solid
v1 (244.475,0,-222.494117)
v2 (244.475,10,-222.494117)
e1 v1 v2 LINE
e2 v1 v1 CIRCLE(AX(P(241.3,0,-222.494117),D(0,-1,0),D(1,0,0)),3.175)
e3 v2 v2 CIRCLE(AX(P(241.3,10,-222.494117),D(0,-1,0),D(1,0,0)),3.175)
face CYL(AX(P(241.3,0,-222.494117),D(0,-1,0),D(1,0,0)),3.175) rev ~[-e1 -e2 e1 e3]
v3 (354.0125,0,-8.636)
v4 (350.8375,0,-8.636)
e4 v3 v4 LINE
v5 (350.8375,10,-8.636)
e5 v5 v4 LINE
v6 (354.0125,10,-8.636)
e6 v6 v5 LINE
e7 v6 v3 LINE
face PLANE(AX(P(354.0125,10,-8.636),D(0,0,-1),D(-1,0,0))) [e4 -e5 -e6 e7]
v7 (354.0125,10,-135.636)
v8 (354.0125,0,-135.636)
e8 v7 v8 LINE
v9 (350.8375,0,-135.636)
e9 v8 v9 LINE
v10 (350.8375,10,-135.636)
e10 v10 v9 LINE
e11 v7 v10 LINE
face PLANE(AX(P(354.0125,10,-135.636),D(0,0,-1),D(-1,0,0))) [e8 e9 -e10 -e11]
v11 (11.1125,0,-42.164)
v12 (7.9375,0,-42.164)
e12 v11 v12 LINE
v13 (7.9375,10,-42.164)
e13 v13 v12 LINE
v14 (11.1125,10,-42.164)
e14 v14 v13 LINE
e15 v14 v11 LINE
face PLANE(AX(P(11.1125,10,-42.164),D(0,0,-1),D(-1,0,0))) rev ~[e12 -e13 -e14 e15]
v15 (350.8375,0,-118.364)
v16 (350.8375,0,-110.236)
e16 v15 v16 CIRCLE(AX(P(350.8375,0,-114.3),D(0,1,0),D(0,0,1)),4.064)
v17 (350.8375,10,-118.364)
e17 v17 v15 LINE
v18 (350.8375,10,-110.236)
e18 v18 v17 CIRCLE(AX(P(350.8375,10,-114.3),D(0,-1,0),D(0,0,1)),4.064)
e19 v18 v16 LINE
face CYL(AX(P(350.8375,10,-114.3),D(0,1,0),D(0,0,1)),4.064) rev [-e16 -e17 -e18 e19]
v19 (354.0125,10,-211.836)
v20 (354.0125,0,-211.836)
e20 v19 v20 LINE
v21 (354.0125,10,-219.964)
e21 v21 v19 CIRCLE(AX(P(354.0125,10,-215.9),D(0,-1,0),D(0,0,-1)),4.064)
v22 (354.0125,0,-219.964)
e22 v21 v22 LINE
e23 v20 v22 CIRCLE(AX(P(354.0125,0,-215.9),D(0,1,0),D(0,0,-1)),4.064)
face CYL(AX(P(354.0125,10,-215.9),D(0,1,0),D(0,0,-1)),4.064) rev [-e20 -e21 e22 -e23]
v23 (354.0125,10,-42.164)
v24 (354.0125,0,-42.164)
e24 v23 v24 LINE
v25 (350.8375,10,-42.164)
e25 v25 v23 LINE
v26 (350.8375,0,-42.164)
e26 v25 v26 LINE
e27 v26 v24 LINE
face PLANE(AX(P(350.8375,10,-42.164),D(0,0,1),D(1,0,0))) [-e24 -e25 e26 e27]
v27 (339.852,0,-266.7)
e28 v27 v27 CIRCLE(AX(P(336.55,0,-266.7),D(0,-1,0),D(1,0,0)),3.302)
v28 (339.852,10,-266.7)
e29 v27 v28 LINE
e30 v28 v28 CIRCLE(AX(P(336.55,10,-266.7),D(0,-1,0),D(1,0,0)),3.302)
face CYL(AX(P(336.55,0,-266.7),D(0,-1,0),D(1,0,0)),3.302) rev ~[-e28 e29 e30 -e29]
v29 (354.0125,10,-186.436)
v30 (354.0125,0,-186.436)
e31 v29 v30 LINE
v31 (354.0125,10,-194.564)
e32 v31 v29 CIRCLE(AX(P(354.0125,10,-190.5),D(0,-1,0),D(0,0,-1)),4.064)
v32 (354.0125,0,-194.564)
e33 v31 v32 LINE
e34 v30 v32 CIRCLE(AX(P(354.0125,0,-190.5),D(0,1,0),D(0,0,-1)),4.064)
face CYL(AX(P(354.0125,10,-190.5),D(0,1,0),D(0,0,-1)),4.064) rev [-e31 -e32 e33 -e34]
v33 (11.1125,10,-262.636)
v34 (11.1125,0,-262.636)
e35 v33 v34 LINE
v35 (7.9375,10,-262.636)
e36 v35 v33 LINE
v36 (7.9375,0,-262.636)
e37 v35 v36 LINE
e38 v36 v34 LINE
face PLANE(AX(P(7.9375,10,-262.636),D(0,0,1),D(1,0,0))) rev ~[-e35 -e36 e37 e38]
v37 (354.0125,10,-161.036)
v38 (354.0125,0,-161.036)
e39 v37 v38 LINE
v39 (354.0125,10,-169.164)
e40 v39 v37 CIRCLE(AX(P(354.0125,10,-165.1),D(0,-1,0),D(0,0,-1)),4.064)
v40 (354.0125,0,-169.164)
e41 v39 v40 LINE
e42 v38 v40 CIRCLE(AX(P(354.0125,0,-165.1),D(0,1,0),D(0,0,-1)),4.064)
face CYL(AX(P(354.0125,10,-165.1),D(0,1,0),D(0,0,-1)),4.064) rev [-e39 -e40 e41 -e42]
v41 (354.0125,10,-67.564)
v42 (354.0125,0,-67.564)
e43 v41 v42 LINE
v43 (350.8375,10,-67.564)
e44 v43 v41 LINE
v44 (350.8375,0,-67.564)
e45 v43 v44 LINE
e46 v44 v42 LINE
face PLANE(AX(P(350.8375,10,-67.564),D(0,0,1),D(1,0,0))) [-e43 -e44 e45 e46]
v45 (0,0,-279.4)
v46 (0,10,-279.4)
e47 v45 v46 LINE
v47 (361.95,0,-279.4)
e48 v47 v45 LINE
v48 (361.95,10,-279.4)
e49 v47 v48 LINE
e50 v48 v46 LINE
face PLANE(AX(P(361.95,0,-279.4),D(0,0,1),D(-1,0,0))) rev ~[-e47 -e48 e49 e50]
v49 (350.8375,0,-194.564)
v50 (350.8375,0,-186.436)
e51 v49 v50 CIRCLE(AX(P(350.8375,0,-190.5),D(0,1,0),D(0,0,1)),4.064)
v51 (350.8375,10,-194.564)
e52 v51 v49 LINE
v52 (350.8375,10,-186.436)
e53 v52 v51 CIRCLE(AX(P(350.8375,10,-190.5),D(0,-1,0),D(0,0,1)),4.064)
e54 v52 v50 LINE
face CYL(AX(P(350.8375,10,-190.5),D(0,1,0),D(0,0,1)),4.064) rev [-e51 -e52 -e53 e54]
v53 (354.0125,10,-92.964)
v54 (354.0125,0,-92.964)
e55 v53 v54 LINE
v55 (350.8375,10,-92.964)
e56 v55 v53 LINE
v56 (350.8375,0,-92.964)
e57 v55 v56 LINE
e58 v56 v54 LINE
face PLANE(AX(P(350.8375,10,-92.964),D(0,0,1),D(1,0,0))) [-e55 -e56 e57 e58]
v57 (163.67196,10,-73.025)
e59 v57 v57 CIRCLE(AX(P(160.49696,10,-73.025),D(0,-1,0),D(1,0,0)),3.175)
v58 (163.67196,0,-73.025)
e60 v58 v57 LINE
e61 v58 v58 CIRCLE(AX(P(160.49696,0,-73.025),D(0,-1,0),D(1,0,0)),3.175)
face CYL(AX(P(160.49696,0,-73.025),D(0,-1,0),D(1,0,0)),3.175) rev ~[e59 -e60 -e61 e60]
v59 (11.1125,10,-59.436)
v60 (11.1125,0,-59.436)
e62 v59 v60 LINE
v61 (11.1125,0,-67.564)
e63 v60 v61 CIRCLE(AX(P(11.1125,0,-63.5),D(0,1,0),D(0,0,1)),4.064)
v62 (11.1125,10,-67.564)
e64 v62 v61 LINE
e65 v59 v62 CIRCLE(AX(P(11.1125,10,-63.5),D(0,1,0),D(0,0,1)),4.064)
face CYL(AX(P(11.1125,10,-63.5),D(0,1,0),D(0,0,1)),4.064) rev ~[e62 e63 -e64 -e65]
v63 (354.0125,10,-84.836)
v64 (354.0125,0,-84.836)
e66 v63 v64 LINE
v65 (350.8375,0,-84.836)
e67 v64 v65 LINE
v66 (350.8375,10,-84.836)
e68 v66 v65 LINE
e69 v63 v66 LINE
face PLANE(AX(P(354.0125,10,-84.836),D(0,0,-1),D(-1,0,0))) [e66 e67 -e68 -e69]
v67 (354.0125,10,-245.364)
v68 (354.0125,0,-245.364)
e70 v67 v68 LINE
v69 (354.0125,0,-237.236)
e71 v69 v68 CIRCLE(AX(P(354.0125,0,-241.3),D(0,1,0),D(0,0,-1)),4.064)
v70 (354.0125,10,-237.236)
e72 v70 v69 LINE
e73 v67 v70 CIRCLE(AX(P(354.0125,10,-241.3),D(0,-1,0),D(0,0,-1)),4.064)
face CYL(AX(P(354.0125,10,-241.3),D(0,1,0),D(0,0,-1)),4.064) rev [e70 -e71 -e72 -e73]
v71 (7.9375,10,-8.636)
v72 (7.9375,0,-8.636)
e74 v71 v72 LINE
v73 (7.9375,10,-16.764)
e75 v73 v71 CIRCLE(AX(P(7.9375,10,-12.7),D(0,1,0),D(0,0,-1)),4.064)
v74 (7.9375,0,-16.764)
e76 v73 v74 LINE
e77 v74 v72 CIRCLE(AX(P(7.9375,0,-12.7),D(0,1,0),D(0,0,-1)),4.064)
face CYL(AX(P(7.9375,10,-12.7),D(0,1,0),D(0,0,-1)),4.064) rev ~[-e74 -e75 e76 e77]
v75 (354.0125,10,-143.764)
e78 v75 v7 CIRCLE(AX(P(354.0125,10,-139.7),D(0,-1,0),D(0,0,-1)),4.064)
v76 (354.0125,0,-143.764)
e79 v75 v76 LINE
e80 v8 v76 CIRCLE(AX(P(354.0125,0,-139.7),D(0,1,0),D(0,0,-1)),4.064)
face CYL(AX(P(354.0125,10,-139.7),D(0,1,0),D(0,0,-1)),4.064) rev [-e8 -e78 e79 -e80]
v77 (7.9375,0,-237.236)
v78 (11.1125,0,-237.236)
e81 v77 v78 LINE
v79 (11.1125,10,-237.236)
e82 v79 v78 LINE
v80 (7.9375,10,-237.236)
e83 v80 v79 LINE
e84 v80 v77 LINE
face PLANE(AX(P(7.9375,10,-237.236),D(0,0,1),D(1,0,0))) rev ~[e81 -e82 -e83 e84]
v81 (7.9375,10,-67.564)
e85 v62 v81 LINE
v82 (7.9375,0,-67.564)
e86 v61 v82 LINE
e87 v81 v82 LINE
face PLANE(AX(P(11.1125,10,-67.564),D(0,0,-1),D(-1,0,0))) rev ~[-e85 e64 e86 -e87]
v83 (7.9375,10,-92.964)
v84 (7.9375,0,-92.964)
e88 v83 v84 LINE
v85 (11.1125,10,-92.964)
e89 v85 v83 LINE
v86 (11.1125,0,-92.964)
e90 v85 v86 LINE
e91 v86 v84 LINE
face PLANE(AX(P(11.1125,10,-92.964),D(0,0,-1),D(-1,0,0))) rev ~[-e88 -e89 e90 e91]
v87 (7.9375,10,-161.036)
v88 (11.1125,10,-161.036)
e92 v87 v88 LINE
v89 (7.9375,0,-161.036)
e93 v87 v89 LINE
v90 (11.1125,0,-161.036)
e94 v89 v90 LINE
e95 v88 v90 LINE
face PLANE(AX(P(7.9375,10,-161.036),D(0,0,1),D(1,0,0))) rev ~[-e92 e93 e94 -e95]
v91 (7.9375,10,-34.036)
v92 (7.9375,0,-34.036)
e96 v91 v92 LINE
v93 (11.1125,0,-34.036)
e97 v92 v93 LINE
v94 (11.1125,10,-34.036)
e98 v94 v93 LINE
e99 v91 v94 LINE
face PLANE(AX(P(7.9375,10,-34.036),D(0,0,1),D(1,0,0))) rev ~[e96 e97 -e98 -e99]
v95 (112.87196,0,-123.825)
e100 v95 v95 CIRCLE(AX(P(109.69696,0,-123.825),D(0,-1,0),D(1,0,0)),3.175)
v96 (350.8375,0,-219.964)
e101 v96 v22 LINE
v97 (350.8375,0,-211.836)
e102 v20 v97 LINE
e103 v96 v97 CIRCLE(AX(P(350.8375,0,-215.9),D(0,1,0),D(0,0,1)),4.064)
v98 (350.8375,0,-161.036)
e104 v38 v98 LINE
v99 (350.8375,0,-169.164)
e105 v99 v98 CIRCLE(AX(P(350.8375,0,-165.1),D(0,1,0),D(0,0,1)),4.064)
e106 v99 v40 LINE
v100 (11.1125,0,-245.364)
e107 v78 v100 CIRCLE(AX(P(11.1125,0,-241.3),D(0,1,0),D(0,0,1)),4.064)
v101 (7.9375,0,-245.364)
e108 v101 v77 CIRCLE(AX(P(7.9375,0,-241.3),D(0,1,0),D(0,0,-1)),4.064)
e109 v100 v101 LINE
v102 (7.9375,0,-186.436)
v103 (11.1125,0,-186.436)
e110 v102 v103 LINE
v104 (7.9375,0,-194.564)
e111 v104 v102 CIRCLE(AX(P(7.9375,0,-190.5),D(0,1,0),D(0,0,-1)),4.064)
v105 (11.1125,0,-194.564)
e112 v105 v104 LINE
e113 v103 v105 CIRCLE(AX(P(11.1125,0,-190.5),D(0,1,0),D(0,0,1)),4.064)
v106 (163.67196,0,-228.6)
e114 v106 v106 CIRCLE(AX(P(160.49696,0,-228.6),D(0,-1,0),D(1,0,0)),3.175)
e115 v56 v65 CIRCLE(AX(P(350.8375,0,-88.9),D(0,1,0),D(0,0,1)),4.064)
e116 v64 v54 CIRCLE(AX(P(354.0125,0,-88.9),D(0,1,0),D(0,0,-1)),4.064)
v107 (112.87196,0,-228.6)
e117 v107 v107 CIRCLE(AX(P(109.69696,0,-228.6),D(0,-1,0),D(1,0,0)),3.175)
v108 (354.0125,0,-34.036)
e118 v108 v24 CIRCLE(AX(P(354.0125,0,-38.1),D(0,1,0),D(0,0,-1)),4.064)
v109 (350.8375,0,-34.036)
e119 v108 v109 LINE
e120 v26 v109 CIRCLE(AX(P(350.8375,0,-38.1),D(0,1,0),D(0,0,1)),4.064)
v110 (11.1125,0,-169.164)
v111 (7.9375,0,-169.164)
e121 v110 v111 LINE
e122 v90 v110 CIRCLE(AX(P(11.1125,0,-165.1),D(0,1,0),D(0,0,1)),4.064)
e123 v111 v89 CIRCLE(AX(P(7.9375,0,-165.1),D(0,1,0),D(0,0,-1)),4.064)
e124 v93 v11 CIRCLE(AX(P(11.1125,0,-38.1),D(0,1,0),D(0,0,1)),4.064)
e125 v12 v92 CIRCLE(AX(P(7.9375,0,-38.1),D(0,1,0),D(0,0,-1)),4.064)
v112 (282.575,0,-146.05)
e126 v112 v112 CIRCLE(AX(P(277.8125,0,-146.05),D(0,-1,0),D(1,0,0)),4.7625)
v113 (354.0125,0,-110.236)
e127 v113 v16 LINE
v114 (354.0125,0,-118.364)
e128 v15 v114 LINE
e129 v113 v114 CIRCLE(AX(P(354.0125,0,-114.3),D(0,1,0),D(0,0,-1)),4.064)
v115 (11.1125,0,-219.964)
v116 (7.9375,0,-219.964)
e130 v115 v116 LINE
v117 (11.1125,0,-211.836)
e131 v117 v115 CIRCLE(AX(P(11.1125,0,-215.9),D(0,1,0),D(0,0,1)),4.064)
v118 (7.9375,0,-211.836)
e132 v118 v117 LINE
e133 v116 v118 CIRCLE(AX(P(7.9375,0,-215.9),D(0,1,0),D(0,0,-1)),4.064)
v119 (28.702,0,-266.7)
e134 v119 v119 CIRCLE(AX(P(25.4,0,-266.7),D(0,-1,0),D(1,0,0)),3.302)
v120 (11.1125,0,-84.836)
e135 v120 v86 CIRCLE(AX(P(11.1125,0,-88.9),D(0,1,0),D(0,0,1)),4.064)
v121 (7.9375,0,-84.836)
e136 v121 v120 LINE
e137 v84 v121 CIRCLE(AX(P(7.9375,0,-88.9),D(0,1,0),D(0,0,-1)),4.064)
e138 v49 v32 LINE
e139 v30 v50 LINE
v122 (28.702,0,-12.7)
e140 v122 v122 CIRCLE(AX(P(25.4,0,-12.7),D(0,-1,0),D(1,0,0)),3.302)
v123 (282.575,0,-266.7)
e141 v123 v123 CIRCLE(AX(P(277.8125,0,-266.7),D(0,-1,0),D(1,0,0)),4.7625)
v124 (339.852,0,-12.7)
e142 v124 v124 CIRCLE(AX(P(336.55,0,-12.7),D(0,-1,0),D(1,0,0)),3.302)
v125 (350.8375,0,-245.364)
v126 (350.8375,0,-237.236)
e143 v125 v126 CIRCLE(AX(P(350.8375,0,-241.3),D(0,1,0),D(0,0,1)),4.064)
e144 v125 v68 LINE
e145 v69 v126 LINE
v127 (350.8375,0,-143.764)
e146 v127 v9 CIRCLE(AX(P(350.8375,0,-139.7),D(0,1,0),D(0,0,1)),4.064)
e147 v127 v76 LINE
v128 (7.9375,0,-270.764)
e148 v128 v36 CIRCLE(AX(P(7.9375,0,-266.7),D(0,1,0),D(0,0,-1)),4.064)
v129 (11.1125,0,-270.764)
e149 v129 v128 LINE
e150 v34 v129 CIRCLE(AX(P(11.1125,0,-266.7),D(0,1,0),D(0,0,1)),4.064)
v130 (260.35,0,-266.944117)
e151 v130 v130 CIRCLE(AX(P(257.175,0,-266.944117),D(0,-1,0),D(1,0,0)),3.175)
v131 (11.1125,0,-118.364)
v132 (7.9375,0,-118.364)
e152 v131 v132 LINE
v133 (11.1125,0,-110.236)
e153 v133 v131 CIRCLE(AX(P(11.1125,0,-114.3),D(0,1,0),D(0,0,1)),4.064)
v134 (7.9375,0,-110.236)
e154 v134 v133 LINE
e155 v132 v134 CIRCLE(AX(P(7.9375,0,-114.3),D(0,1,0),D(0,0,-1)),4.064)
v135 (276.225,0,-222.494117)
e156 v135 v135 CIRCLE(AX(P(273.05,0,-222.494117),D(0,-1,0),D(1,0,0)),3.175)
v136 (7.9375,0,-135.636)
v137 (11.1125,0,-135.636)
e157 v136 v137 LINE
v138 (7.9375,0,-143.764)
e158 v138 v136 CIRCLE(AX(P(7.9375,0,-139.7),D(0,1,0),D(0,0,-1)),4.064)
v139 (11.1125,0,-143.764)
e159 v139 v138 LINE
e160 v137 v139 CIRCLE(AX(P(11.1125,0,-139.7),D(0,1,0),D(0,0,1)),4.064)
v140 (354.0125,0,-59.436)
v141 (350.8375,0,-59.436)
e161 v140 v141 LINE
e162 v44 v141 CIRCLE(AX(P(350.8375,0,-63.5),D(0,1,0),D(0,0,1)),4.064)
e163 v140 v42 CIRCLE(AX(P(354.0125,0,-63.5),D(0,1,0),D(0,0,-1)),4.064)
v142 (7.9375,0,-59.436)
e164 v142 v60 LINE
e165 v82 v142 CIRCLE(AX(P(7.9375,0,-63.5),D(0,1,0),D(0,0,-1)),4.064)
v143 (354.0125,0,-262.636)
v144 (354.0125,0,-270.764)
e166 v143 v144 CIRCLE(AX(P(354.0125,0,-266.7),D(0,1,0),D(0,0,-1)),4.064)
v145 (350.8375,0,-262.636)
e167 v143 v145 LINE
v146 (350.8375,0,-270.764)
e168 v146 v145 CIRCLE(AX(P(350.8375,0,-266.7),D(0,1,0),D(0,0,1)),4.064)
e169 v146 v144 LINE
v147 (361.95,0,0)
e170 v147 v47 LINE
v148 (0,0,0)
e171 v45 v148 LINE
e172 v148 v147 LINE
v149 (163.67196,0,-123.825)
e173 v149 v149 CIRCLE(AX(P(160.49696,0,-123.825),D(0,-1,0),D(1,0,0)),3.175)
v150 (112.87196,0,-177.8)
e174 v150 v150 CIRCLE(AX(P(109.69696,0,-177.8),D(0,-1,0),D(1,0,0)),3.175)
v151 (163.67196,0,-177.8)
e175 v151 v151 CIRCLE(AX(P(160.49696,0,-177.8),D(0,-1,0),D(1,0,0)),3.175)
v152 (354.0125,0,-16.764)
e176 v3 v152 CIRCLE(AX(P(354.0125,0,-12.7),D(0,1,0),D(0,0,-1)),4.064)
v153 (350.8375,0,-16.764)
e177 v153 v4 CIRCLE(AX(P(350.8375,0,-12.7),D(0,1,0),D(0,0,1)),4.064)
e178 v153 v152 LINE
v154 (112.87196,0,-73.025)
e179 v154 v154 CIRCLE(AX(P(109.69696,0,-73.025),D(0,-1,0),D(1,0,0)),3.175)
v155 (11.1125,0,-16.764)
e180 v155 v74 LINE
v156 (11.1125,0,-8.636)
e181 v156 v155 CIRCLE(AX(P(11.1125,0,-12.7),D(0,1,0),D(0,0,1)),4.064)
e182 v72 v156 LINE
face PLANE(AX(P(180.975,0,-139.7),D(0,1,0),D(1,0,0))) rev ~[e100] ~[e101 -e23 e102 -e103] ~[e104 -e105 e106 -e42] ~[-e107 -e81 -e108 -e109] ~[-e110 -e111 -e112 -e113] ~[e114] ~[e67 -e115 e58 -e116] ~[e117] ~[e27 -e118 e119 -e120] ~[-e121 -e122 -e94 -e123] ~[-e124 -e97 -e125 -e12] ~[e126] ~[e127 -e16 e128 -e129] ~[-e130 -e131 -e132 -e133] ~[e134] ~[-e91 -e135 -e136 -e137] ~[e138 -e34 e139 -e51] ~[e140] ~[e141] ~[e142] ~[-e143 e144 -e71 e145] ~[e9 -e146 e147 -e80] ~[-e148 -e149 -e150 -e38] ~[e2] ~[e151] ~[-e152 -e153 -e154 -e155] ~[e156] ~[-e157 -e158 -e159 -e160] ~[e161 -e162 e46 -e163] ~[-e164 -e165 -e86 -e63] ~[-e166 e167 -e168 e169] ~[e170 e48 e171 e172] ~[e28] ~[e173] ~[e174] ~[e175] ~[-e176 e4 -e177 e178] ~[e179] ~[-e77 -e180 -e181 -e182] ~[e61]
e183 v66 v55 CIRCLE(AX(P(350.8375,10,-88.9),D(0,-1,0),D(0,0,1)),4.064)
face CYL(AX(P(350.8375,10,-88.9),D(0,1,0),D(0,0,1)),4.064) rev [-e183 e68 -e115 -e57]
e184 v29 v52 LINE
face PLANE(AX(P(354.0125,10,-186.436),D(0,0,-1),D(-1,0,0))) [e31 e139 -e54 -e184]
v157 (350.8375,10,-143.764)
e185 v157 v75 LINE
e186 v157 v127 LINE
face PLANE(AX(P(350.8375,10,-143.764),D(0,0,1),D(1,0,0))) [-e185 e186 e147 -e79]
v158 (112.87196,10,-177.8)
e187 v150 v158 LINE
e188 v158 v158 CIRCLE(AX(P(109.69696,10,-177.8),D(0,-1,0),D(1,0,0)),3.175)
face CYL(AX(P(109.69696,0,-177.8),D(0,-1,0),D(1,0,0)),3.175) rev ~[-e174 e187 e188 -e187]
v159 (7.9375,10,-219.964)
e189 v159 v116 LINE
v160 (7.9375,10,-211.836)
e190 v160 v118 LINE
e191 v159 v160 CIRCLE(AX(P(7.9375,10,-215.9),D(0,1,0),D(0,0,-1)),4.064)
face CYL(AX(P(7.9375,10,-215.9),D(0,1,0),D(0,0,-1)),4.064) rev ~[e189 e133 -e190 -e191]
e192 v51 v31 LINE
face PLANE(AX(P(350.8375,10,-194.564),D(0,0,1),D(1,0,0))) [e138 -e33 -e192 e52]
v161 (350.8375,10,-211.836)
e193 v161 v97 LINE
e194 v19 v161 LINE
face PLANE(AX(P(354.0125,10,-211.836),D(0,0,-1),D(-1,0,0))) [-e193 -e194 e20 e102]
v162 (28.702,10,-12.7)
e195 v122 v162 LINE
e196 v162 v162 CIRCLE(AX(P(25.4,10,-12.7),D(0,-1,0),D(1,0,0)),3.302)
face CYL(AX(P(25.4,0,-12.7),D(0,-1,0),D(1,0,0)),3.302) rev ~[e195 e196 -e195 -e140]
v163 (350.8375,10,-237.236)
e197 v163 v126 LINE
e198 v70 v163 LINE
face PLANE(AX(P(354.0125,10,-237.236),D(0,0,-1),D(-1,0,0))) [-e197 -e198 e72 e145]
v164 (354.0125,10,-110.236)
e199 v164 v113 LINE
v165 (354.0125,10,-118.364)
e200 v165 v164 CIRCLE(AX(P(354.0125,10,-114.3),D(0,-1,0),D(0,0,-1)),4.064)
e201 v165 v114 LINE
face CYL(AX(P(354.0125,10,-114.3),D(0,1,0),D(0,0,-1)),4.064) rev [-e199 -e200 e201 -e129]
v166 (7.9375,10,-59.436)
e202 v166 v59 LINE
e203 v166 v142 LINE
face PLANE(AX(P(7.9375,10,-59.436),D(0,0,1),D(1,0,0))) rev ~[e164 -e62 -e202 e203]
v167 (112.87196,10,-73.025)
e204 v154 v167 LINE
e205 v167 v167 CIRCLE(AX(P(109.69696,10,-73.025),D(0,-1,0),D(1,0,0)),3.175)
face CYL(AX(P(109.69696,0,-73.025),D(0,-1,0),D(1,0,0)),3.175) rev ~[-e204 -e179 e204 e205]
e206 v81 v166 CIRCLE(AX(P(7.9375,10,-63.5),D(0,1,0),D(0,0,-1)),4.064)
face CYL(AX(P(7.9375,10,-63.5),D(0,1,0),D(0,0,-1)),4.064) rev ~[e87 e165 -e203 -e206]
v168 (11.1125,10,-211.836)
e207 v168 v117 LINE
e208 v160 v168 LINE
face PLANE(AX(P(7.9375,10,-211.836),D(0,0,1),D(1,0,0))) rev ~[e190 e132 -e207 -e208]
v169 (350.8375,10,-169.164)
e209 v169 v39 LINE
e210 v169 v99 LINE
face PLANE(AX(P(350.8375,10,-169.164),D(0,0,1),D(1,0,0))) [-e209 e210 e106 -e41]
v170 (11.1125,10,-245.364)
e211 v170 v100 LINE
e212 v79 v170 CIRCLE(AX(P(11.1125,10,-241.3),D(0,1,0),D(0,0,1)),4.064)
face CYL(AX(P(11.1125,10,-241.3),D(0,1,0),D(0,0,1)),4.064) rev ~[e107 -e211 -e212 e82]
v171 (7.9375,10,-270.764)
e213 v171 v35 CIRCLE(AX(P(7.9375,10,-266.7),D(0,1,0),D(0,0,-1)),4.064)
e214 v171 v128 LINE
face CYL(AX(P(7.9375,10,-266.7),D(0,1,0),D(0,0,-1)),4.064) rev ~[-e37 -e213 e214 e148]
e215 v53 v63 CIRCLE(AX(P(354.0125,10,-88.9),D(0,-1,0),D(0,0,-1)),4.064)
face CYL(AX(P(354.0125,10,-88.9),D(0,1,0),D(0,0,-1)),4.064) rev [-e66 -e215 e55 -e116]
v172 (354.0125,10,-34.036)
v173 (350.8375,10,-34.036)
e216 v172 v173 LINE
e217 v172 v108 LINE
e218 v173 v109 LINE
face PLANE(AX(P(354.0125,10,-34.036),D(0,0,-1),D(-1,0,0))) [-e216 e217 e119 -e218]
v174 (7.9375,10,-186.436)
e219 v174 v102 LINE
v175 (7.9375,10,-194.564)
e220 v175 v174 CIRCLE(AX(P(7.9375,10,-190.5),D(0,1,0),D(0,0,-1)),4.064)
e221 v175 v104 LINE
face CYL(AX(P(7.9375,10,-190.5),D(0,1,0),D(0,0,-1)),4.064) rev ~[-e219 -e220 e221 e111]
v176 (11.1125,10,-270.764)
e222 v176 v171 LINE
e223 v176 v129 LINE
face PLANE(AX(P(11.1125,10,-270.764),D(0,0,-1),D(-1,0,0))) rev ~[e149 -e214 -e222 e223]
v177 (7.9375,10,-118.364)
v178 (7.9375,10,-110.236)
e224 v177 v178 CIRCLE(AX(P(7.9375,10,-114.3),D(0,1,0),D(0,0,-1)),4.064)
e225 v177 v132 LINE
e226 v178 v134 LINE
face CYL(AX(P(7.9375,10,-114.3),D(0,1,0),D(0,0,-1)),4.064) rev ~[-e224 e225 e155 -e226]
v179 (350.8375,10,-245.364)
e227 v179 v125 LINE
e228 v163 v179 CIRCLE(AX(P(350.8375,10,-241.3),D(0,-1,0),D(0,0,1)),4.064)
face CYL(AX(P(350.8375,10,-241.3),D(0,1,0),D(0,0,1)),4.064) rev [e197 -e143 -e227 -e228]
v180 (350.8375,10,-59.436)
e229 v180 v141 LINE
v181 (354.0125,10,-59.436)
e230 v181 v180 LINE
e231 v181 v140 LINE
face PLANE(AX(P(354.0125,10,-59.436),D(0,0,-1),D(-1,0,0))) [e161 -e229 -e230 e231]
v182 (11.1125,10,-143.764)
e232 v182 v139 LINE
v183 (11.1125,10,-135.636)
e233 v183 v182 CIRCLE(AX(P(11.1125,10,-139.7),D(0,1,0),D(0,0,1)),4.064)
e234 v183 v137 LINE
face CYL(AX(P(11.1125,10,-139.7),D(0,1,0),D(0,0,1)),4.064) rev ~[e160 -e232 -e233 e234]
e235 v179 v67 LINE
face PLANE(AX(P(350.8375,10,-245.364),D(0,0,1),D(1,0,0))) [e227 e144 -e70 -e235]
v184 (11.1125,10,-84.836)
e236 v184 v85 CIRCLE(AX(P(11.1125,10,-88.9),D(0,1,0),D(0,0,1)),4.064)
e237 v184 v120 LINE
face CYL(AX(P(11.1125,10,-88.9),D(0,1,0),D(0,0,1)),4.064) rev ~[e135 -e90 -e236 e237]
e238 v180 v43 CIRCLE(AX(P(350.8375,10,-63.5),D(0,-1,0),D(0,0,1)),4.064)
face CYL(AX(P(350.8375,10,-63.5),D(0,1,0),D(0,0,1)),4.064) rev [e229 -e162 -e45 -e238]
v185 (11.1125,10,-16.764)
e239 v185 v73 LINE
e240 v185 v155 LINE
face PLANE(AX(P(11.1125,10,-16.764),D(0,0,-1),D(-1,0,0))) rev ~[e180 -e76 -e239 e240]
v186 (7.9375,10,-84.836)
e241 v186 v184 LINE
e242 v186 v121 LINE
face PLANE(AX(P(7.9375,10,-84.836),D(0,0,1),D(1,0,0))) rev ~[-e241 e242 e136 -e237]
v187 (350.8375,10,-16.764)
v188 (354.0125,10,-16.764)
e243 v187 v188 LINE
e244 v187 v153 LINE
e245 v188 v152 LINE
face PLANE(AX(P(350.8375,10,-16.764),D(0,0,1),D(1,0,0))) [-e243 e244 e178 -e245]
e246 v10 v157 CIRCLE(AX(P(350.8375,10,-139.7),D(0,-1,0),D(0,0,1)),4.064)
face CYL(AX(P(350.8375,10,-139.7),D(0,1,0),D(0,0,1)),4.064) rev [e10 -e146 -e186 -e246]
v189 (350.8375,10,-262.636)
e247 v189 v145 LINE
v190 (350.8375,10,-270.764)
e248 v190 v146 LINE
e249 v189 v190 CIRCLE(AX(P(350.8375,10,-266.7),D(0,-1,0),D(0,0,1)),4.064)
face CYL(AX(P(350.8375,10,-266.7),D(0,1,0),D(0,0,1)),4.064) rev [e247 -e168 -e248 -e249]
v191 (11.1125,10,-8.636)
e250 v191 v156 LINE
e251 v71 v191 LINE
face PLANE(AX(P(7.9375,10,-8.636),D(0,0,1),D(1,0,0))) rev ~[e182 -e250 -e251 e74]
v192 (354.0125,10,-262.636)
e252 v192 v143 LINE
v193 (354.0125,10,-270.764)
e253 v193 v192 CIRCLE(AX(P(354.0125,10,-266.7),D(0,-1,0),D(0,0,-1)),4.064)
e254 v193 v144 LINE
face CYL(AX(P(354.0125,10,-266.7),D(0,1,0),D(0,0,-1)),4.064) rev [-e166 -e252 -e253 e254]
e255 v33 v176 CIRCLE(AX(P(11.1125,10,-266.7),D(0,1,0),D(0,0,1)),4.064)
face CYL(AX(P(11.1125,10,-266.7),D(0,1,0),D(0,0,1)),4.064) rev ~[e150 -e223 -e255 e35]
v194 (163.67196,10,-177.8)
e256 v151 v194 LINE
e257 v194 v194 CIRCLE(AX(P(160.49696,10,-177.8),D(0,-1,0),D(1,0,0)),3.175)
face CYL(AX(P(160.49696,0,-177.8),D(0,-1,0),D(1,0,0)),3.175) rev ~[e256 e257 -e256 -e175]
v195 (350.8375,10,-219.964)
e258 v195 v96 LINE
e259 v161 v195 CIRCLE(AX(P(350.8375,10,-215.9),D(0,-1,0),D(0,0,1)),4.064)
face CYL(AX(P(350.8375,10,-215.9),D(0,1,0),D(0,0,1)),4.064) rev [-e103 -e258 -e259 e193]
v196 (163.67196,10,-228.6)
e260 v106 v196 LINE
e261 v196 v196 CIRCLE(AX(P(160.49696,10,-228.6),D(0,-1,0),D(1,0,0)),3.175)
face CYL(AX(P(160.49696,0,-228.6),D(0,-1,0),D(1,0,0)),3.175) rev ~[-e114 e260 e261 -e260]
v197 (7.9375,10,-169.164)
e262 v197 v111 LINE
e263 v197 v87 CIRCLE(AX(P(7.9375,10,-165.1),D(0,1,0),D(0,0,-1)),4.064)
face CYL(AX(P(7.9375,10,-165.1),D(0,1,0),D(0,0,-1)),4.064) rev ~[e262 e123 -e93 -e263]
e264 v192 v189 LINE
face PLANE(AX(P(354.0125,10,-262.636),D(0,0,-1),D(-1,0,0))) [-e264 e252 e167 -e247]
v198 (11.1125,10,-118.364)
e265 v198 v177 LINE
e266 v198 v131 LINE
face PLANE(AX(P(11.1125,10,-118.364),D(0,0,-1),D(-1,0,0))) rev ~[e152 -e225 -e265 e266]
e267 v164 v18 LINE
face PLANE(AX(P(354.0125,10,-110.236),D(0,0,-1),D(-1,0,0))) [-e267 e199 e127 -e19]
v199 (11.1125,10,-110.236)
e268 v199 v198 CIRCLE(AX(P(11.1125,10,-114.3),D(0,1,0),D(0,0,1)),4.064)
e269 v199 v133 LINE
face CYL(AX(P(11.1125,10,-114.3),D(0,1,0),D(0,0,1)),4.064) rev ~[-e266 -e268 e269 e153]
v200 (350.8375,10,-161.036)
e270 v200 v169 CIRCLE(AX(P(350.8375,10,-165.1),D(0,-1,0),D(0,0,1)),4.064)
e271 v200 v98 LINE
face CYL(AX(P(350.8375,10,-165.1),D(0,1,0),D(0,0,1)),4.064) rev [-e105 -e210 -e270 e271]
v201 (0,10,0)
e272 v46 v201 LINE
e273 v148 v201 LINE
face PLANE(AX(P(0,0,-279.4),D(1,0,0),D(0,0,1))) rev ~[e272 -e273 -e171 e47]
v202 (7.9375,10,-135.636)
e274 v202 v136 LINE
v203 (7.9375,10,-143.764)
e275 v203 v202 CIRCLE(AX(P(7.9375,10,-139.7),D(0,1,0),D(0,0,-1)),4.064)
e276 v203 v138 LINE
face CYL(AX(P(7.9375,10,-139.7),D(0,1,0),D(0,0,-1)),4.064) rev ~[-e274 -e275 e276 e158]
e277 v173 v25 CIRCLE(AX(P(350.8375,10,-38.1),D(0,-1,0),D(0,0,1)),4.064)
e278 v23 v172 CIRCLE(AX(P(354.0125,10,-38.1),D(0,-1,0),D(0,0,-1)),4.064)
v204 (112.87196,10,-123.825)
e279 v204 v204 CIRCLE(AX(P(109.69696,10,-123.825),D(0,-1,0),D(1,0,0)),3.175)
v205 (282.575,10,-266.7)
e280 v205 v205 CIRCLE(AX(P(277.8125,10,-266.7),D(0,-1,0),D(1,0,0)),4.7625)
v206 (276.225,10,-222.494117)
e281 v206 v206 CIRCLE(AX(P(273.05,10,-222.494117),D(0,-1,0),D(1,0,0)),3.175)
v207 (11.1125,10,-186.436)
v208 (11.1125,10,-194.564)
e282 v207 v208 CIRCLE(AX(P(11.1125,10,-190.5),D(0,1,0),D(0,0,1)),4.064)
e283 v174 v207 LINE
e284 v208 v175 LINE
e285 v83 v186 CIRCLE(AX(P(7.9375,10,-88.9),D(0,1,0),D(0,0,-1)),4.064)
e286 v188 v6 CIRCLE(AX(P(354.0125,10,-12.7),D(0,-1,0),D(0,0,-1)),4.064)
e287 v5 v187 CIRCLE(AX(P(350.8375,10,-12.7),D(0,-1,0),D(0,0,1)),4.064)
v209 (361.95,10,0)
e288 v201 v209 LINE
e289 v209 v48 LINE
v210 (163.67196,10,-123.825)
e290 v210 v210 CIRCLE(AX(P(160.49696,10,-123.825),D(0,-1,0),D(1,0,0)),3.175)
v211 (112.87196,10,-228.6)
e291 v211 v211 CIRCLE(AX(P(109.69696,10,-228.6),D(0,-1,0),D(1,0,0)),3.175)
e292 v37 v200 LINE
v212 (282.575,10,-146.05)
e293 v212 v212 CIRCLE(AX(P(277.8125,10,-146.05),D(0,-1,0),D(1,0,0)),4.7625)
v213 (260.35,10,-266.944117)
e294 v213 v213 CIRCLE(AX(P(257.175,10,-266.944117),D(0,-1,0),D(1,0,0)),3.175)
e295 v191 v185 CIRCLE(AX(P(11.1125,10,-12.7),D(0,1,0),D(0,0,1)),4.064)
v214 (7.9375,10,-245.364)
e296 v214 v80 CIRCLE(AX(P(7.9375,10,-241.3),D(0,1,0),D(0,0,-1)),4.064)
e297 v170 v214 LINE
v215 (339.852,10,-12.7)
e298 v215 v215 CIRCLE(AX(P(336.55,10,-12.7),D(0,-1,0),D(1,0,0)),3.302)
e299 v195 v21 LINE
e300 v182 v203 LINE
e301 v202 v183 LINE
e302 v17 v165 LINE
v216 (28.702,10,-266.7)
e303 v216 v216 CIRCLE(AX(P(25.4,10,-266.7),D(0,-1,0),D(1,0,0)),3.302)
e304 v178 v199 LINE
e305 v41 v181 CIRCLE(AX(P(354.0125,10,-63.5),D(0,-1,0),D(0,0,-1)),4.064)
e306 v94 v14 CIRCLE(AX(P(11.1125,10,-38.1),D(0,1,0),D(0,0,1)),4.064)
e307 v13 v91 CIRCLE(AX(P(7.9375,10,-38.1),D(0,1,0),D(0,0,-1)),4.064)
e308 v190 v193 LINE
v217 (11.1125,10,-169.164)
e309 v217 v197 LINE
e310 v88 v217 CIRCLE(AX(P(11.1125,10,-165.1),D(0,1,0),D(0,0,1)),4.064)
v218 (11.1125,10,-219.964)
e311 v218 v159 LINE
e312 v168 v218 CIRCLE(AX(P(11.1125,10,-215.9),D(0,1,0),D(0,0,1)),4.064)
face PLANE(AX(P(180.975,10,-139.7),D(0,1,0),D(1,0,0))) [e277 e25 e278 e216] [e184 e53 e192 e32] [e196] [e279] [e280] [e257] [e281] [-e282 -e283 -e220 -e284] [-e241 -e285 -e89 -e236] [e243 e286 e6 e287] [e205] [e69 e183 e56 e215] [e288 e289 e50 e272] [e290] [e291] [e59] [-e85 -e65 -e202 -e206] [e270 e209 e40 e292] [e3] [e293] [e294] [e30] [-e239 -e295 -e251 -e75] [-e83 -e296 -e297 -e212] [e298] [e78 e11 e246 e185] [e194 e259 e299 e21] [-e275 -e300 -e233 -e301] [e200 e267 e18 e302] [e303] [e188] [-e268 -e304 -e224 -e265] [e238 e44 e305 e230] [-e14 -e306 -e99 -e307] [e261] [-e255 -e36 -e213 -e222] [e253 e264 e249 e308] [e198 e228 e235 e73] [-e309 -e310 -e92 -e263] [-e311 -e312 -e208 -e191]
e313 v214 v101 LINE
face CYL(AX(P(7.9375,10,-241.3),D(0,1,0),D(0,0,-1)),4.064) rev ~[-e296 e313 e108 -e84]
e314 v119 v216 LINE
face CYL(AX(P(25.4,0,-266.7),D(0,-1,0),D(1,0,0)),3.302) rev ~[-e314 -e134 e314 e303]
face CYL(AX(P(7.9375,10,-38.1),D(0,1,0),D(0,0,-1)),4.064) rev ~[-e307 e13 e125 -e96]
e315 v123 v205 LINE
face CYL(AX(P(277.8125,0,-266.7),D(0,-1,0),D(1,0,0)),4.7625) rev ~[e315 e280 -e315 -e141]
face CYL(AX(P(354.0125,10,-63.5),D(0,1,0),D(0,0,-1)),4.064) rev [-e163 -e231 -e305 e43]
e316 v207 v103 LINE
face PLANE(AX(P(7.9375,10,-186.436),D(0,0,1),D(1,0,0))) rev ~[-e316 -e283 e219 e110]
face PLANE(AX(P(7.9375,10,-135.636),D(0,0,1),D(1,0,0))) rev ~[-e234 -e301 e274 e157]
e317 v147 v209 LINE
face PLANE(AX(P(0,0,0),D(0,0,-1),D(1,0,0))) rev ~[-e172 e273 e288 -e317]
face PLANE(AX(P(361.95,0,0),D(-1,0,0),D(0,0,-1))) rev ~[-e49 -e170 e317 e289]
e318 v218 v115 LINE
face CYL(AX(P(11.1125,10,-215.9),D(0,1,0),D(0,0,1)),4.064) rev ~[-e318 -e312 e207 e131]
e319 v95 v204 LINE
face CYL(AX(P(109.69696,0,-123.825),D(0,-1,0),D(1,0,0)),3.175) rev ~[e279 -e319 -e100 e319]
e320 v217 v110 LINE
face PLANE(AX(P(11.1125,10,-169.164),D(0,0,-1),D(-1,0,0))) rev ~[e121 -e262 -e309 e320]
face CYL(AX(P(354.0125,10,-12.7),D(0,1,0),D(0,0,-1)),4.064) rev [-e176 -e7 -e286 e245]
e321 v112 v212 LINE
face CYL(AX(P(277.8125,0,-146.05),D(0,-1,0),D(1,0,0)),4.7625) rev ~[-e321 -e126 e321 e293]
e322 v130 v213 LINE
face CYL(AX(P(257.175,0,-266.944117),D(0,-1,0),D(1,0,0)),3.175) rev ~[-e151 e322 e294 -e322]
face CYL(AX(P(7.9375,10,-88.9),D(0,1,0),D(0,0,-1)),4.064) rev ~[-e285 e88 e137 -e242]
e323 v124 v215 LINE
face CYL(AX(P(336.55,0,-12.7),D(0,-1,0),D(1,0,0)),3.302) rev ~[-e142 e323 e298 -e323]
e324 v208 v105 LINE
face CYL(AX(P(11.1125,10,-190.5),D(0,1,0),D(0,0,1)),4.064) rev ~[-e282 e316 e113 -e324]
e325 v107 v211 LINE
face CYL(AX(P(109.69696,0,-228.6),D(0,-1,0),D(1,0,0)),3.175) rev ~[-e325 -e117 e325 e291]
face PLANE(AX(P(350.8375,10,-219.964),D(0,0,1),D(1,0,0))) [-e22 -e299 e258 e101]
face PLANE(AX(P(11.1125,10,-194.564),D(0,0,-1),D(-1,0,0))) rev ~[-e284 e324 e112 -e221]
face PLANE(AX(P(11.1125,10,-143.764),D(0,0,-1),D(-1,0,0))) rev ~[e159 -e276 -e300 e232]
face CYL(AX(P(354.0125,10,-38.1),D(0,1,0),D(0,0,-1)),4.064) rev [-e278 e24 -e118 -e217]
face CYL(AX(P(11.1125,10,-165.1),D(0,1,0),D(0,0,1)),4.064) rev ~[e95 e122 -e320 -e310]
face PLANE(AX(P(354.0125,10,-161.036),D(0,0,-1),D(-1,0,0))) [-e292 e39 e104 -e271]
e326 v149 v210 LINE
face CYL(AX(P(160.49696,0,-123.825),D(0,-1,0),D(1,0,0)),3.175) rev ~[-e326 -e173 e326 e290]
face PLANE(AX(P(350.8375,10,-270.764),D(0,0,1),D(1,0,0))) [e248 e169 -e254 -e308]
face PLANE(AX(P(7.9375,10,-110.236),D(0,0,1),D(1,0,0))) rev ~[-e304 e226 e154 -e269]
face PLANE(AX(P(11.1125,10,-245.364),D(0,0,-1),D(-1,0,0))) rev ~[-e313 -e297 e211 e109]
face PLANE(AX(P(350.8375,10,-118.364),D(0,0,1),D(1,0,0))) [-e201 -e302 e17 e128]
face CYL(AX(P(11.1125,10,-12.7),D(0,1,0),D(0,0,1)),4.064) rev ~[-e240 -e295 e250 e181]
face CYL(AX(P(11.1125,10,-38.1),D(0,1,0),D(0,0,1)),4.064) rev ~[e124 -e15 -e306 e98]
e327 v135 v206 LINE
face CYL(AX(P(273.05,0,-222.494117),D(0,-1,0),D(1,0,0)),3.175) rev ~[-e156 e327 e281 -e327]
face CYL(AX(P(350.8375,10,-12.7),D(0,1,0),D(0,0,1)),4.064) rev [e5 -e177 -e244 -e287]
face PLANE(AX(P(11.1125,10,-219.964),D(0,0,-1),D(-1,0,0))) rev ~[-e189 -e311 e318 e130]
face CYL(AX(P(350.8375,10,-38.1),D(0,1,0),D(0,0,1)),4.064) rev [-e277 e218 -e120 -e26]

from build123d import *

# Parameters (mm, degrees)
BOSS_EXTRUDE1_DEPTH     = 10
CUT_EXTRUDE1_DEPTH      = 1
CUT_EXTRUDE1_DEPTH_BACK = 11
SKETCH4_R               = 4.7625
CUT_EXTRUDE2_DEPTH      = 11
SKETCH5_R               = 3.175
CUT_EXTRUDE3_DEPTH      = 11
SKETCH6_R               = 3.175
CUT_EXTRUDE4_DEPTH      = 11
SKETCH7_R               = 3.302
CUT_EXTRUDE5_DEPTH      = 11


with BuildPart() as part:
    # Sketch1 → Boss-Extrude1 (new body)
    with BuildSketch(Plane(origin=(0, 0, 0), x_dir=(1, 0, 0), z_dir=(0, 1, 0))):
        Polygon((0, 279.4), (0, 0), (38.1, 0), (292.1, 0), (361.95, 0), (361.95, 279.4), align=None)
    extrude(amount=BOSS_EXTRUDE1_DEPTH)

    # Sketch2 → Cut-Extrude1 (cut, two sides)
    with BuildSketch(Plane(origin=(0, 10, 0), x_dir=(1, 0, 0), z_dir=(0, 1, 0))) as cut_extrude1_sk:
        with BuildLine():
            Line((350.8375, 270.764), (354.0125, 270.764))
            ThreePointArc((354.0125, 270.764), (358.0765, 266.7), (354.0125, 262.636))
            Line((354.0125, 262.636), (350.8375, 262.636))
            ThreePointArc((350.8375, 262.636), (346.7735, 266.7), (350.8375, 270.764))
        make_face()
        with BuildLine():
            Line((350.8375, 245.364), (354.0125, 245.364))
            ThreePointArc((354.0125, 245.364), (358.0765, 241.3), (354.0125, 237.236))
            Line((354.0125, 237.236), (350.8375, 237.236))
            ThreePointArc((350.8375, 237.236), (346.7735, 241.3), (350.8375, 245.364))
        make_face()
        with BuildLine():
            Line((350.8375, 219.964), (354.0125, 219.964))
            ThreePointArc((354.0125, 219.964), (358.0765, 215.9), (354.0125, 211.836))
            Line((354.0125, 211.836), (350.8375, 211.836))
            ThreePointArc((350.8375, 211.836), (346.7735, 215.9), (350.8375, 219.964))
        make_face()
        with BuildLine():
            Line((350.8375, 194.564), (354.0125, 194.564))
            ThreePointArc((354.0125, 194.564), (358.0765, 190.5), (354.0125, 186.436))
            Line((354.0125, 186.436), (350.8375, 186.436))
            ThreePointArc((350.8375, 186.436), (346.7735, 190.5), (350.8375, 194.564))
        make_face()
        with BuildLine():
            Line((350.8375, 169.164), (354.0125, 169.164))
            ThreePointArc((354.0125, 169.164), (358.0765, 165.1), (354.0125, 161.036))
            Line((354.0125, 161.036), (350.8375, 161.036))
            ThreePointArc((350.8375, 161.036), (346.7735, 165.1), (350.8375, 169.164))
        make_face()
        with BuildLine():
            Line((350.8375, 143.764), (354.0125, 143.764))
            ThreePointArc((354.0125, 143.764), (358.0765, 139.7), (354.0125, 135.636))
            Line((354.0125, 135.636), (350.8375, 135.636))
            ThreePointArc((350.8375, 135.636), (346.7735, 139.7), (350.8375, 143.764))
        make_face()
        with BuildLine():
            Line((350.8375, 118.364), (354.0125, 118.364))
            ThreePointArc((354.0125, 118.364), (358.0765, 114.3), (354.0125, 110.236))
            Line((354.0125, 110.236), (350.8375, 110.236))
            ThreePointArc((350.8375, 110.236), (346.7735, 114.3), (350.8375, 118.364))
        make_face()
        with BuildLine():
            Line((350.8375, 92.964), (354.0125, 92.964))
            ThreePointArc((354.0125, 92.964), (358.0765, 88.9), (354.0125, 84.836))
            Line((354.0125, 84.836), (350.8375, 84.836))
            ThreePointArc((350.8375, 84.836), (346.7735, 88.9), (350.8375, 92.964))
        make_face()
        with BuildLine():
            Line((350.8375, 67.564), (354.0125, 67.564))
            ThreePointArc((354.0125, 67.564), (358.0765, 63.5), (354.0125, 59.436))
            Line((354.0125, 59.436), (350.8375, 59.436))
            ThreePointArc((350.8375, 59.436), (346.7735, 63.5), (350.8375, 67.564))
        make_face()
        with BuildLine():
            Line((350.8375, 42.164), (354.0125, 42.164))
            ThreePointArc((354.0125, 42.164), (358.0765, 38.1), (354.0125, 34.036))
            Line((354.0125, 34.036), (350.8375, 34.036))
            ThreePointArc((350.8375, 34.036), (346.7735, 38.1), (350.8375, 42.164))
        make_face()
        with BuildLine():
            Line((350.8375, 16.764), (354.0125, 16.764))
            ThreePointArc((354.0125, 16.764), (358.0765, 12.7), (354.0125, 8.636))
            Line((354.0125, 8.636), (350.8375, 8.636))
            ThreePointArc((350.8375, 8.636), (346.7735, 12.7), (350.8375, 16.764))
        make_face()
        with BuildLine():
            Line((11.1125, 270.764), (7.9375, 270.764))
            ThreePointArc((7.9375, 270.764), (3.8735, 266.7), (7.9375, 262.636))
            Line((7.9375, 262.636), (11.1125, 262.636))
            ThreePointArc((11.1125, 262.636), (15.1765, 266.7), (11.1125, 270.764))
        make_face()
        with BuildLine():
            Line((11.1125, 16.764), (7.9375, 16.764))
            ThreePointArc((7.9375, 16.764), (3.8735, 12.7), (7.9375, 8.636))
            Line((7.9375, 8.636), (11.1125, 8.636))
            ThreePointArc((11.1125, 8.636), (15.1765, 12.7), (11.1125, 16.764))
        make_face()
        with BuildLine():
            Line((11.1125, 42.164), (7.9375, 42.164))
            ThreePointArc((7.9375, 42.164), (3.8735, 38.1), (7.9375, 34.036))
            Line((7.9375, 34.036), (11.1125, 34.036))
            ThreePointArc((11.1125, 34.036), (15.1765, 38.1), (11.1125, 42.164))
        make_face()
        with BuildLine():
            Line((11.1125, 67.564), (7.9375, 67.564))
            ThreePointArc((7.9375, 67.564), (3.8735, 63.5), (7.9375, 59.436))
            Line((7.9375, 59.436), (11.1125, 59.436))
            ThreePointArc((11.1125, 59.436), (15.1765, 63.5), (11.1125, 67.564))
        make_face()
        with BuildLine():
            Line((11.1125, 92.964), (7.9375, 92.964))
            ThreePointArc((7.9375, 92.964), (3.8735, 88.9), (7.9375, 84.836))
            Line((7.9375, 84.836), (11.1125, 84.836))
            ThreePointArc((11.1125, 84.836), (15.1765, 88.9), (11.1125, 92.964))
        make_face()
        with BuildLine():
            Line((11.1125, 118.364), (7.9375, 118.364))
            ThreePointArc((7.9375, 118.364), (3.8735, 114.3), (7.9375, 110.236))
            Line((7.9375, 110.236), (11.1125, 110.236))
            ThreePointArc((11.1125, 110.236), (15.1765, 114.3), (11.1125, 118.364))
        make_face()
        with BuildLine():
            Line((11.1125, 143.764), (7.9375, 143.764))
            ThreePointArc((7.9375, 143.764), (3.8735, 139.7), (7.9375, 135.636))
            Line((7.9375, 135.636), (11.1125, 135.636))
            ThreePointArc((11.1125, 135.636), (15.1765, 139.7), (11.1125, 143.764))
        make_face()
        with BuildLine():
            Line((11.1125, 169.164), (7.9375, 169.164))
            ThreePointArc((7.9375, 169.164), (3.8735, 165.1), (7.9375, 161.036))
            Line((7.9375, 161.036), (11.1125, 161.036))
            ThreePointArc((11.1125, 161.036), (15.1765, 165.1), (11.1125, 169.164))
        make_face()
        with BuildLine():
            Line((11.1125, 194.564), (7.9375, 194.564))
            ThreePointArc((7.9375, 194.564), (3.8735, 190.5), (7.9375, 186.436))
            Line((7.9375, 186.436), (11.1125, 186.436))
            ThreePointArc((11.1125, 186.436), (15.1765, 190.5), (11.1125, 194.564))
        make_face()
        with BuildLine():
            Line((11.1125, 219.964), (7.9375, 219.964))
            ThreePointArc((7.9375, 219.964), (3.8735, 215.9), (7.9375, 211.836))
            Line((7.9375, 211.836), (11.1125, 211.836))
            ThreePointArc((11.1125, 211.836), (15.1765, 215.9), (11.1125, 219.964))
        make_face()
        with BuildLine():
            Line((11.1125, 245.364), (7.9375, 245.364))
            ThreePointArc((7.9375, 245.364), (3.8735, 241.3), (7.9375, 237.236))
            Line((7.9375, 237.236), (11.1125, 237.236))
            ThreePointArc((11.1125, 237.236), (15.1765, 241.3), (11.1125, 245.364))
        make_face()
    extrude(amount=CUT_EXTRUDE1_DEPTH, mode=Mode.SUBTRACT)
    extrude(cut_extrude1_sk.sketch, amount=-CUT_EXTRUDE1_DEPTH_BACK, mode=Mode.SUBTRACT)

    # Sketch4 → Cut-Extrude2 (cut, through all)
    with BuildSketch(Plane.XZ):
        with Locations((277.8125, -266.7)):
            Circle(SKETCH4_R)
        with Locations((277.8125, -146.05)):
            Circle(SKETCH4_R)
    extrude(amount=-CUT_EXTRUDE2_DEPTH, mode=Mode.SUBTRACT)

    # Sketch5 → Cut-Extrude3 (cut, through all)
    with BuildSketch(Plane.XZ):
        with Locations((257.175, -266.944116923)):
            Circle(SKETCH5_R)
        with Locations((273.05, -222.494116923)):
            Circle(SKETCH5_R)
        with Locations((241.3, -222.494116923)):
            Circle(SKETCH5_R)
    extrude(amount=-CUT_EXTRUDE3_DEPTH, mode=Mode.SUBTRACT)

    # Sketch6 → Cut-Extrude4 (cut, through all)
    with BuildSketch(Plane.XZ):
        with Locations((109.696959753, -228.6)):
            Circle(SKETCH6_R)
        with Locations((109.696959753, -177.8)):
            Circle(SKETCH6_R)
        with Locations((109.696959753, -123.825)):
            Circle(SKETCH6_R)
        with Locations((109.696959753, -73.025)):
            Circle(SKETCH6_R)
        with Locations((160.496959753, -228.6)):
            Circle(SKETCH6_R)
        with Locations((160.496959753, -177.8)):
            Circle(SKETCH6_R)
        with Locations((160.496959753, -123.825)):
            Circle(SKETCH6_R)
        with Locations((160.496959753, -73.025)):
            Circle(SKETCH6_R)
    extrude(amount=-CUT_EXTRUDE4_DEPTH, mode=Mode.SUBTRACT)

    # Sketch7 → Cut-Extrude5 (cut, through all)
    with BuildSketch(Plane.XZ):
        with Locations((25.4, -266.7)):
            Circle(SKETCH7_R)
        with Locations((336.55, -266.7)):
            Circle(SKETCH7_R)
        with Locations((336.55, -12.7)):
            Circle(SKETCH7_R)
        with Locations((25.4, -12.7)):
            Circle(SKETCH7_R)
    extrude(amount=-CUT_EXTRUDE5_DEPTH, mode=Mode.SUBTRACT)


solid = part.part
